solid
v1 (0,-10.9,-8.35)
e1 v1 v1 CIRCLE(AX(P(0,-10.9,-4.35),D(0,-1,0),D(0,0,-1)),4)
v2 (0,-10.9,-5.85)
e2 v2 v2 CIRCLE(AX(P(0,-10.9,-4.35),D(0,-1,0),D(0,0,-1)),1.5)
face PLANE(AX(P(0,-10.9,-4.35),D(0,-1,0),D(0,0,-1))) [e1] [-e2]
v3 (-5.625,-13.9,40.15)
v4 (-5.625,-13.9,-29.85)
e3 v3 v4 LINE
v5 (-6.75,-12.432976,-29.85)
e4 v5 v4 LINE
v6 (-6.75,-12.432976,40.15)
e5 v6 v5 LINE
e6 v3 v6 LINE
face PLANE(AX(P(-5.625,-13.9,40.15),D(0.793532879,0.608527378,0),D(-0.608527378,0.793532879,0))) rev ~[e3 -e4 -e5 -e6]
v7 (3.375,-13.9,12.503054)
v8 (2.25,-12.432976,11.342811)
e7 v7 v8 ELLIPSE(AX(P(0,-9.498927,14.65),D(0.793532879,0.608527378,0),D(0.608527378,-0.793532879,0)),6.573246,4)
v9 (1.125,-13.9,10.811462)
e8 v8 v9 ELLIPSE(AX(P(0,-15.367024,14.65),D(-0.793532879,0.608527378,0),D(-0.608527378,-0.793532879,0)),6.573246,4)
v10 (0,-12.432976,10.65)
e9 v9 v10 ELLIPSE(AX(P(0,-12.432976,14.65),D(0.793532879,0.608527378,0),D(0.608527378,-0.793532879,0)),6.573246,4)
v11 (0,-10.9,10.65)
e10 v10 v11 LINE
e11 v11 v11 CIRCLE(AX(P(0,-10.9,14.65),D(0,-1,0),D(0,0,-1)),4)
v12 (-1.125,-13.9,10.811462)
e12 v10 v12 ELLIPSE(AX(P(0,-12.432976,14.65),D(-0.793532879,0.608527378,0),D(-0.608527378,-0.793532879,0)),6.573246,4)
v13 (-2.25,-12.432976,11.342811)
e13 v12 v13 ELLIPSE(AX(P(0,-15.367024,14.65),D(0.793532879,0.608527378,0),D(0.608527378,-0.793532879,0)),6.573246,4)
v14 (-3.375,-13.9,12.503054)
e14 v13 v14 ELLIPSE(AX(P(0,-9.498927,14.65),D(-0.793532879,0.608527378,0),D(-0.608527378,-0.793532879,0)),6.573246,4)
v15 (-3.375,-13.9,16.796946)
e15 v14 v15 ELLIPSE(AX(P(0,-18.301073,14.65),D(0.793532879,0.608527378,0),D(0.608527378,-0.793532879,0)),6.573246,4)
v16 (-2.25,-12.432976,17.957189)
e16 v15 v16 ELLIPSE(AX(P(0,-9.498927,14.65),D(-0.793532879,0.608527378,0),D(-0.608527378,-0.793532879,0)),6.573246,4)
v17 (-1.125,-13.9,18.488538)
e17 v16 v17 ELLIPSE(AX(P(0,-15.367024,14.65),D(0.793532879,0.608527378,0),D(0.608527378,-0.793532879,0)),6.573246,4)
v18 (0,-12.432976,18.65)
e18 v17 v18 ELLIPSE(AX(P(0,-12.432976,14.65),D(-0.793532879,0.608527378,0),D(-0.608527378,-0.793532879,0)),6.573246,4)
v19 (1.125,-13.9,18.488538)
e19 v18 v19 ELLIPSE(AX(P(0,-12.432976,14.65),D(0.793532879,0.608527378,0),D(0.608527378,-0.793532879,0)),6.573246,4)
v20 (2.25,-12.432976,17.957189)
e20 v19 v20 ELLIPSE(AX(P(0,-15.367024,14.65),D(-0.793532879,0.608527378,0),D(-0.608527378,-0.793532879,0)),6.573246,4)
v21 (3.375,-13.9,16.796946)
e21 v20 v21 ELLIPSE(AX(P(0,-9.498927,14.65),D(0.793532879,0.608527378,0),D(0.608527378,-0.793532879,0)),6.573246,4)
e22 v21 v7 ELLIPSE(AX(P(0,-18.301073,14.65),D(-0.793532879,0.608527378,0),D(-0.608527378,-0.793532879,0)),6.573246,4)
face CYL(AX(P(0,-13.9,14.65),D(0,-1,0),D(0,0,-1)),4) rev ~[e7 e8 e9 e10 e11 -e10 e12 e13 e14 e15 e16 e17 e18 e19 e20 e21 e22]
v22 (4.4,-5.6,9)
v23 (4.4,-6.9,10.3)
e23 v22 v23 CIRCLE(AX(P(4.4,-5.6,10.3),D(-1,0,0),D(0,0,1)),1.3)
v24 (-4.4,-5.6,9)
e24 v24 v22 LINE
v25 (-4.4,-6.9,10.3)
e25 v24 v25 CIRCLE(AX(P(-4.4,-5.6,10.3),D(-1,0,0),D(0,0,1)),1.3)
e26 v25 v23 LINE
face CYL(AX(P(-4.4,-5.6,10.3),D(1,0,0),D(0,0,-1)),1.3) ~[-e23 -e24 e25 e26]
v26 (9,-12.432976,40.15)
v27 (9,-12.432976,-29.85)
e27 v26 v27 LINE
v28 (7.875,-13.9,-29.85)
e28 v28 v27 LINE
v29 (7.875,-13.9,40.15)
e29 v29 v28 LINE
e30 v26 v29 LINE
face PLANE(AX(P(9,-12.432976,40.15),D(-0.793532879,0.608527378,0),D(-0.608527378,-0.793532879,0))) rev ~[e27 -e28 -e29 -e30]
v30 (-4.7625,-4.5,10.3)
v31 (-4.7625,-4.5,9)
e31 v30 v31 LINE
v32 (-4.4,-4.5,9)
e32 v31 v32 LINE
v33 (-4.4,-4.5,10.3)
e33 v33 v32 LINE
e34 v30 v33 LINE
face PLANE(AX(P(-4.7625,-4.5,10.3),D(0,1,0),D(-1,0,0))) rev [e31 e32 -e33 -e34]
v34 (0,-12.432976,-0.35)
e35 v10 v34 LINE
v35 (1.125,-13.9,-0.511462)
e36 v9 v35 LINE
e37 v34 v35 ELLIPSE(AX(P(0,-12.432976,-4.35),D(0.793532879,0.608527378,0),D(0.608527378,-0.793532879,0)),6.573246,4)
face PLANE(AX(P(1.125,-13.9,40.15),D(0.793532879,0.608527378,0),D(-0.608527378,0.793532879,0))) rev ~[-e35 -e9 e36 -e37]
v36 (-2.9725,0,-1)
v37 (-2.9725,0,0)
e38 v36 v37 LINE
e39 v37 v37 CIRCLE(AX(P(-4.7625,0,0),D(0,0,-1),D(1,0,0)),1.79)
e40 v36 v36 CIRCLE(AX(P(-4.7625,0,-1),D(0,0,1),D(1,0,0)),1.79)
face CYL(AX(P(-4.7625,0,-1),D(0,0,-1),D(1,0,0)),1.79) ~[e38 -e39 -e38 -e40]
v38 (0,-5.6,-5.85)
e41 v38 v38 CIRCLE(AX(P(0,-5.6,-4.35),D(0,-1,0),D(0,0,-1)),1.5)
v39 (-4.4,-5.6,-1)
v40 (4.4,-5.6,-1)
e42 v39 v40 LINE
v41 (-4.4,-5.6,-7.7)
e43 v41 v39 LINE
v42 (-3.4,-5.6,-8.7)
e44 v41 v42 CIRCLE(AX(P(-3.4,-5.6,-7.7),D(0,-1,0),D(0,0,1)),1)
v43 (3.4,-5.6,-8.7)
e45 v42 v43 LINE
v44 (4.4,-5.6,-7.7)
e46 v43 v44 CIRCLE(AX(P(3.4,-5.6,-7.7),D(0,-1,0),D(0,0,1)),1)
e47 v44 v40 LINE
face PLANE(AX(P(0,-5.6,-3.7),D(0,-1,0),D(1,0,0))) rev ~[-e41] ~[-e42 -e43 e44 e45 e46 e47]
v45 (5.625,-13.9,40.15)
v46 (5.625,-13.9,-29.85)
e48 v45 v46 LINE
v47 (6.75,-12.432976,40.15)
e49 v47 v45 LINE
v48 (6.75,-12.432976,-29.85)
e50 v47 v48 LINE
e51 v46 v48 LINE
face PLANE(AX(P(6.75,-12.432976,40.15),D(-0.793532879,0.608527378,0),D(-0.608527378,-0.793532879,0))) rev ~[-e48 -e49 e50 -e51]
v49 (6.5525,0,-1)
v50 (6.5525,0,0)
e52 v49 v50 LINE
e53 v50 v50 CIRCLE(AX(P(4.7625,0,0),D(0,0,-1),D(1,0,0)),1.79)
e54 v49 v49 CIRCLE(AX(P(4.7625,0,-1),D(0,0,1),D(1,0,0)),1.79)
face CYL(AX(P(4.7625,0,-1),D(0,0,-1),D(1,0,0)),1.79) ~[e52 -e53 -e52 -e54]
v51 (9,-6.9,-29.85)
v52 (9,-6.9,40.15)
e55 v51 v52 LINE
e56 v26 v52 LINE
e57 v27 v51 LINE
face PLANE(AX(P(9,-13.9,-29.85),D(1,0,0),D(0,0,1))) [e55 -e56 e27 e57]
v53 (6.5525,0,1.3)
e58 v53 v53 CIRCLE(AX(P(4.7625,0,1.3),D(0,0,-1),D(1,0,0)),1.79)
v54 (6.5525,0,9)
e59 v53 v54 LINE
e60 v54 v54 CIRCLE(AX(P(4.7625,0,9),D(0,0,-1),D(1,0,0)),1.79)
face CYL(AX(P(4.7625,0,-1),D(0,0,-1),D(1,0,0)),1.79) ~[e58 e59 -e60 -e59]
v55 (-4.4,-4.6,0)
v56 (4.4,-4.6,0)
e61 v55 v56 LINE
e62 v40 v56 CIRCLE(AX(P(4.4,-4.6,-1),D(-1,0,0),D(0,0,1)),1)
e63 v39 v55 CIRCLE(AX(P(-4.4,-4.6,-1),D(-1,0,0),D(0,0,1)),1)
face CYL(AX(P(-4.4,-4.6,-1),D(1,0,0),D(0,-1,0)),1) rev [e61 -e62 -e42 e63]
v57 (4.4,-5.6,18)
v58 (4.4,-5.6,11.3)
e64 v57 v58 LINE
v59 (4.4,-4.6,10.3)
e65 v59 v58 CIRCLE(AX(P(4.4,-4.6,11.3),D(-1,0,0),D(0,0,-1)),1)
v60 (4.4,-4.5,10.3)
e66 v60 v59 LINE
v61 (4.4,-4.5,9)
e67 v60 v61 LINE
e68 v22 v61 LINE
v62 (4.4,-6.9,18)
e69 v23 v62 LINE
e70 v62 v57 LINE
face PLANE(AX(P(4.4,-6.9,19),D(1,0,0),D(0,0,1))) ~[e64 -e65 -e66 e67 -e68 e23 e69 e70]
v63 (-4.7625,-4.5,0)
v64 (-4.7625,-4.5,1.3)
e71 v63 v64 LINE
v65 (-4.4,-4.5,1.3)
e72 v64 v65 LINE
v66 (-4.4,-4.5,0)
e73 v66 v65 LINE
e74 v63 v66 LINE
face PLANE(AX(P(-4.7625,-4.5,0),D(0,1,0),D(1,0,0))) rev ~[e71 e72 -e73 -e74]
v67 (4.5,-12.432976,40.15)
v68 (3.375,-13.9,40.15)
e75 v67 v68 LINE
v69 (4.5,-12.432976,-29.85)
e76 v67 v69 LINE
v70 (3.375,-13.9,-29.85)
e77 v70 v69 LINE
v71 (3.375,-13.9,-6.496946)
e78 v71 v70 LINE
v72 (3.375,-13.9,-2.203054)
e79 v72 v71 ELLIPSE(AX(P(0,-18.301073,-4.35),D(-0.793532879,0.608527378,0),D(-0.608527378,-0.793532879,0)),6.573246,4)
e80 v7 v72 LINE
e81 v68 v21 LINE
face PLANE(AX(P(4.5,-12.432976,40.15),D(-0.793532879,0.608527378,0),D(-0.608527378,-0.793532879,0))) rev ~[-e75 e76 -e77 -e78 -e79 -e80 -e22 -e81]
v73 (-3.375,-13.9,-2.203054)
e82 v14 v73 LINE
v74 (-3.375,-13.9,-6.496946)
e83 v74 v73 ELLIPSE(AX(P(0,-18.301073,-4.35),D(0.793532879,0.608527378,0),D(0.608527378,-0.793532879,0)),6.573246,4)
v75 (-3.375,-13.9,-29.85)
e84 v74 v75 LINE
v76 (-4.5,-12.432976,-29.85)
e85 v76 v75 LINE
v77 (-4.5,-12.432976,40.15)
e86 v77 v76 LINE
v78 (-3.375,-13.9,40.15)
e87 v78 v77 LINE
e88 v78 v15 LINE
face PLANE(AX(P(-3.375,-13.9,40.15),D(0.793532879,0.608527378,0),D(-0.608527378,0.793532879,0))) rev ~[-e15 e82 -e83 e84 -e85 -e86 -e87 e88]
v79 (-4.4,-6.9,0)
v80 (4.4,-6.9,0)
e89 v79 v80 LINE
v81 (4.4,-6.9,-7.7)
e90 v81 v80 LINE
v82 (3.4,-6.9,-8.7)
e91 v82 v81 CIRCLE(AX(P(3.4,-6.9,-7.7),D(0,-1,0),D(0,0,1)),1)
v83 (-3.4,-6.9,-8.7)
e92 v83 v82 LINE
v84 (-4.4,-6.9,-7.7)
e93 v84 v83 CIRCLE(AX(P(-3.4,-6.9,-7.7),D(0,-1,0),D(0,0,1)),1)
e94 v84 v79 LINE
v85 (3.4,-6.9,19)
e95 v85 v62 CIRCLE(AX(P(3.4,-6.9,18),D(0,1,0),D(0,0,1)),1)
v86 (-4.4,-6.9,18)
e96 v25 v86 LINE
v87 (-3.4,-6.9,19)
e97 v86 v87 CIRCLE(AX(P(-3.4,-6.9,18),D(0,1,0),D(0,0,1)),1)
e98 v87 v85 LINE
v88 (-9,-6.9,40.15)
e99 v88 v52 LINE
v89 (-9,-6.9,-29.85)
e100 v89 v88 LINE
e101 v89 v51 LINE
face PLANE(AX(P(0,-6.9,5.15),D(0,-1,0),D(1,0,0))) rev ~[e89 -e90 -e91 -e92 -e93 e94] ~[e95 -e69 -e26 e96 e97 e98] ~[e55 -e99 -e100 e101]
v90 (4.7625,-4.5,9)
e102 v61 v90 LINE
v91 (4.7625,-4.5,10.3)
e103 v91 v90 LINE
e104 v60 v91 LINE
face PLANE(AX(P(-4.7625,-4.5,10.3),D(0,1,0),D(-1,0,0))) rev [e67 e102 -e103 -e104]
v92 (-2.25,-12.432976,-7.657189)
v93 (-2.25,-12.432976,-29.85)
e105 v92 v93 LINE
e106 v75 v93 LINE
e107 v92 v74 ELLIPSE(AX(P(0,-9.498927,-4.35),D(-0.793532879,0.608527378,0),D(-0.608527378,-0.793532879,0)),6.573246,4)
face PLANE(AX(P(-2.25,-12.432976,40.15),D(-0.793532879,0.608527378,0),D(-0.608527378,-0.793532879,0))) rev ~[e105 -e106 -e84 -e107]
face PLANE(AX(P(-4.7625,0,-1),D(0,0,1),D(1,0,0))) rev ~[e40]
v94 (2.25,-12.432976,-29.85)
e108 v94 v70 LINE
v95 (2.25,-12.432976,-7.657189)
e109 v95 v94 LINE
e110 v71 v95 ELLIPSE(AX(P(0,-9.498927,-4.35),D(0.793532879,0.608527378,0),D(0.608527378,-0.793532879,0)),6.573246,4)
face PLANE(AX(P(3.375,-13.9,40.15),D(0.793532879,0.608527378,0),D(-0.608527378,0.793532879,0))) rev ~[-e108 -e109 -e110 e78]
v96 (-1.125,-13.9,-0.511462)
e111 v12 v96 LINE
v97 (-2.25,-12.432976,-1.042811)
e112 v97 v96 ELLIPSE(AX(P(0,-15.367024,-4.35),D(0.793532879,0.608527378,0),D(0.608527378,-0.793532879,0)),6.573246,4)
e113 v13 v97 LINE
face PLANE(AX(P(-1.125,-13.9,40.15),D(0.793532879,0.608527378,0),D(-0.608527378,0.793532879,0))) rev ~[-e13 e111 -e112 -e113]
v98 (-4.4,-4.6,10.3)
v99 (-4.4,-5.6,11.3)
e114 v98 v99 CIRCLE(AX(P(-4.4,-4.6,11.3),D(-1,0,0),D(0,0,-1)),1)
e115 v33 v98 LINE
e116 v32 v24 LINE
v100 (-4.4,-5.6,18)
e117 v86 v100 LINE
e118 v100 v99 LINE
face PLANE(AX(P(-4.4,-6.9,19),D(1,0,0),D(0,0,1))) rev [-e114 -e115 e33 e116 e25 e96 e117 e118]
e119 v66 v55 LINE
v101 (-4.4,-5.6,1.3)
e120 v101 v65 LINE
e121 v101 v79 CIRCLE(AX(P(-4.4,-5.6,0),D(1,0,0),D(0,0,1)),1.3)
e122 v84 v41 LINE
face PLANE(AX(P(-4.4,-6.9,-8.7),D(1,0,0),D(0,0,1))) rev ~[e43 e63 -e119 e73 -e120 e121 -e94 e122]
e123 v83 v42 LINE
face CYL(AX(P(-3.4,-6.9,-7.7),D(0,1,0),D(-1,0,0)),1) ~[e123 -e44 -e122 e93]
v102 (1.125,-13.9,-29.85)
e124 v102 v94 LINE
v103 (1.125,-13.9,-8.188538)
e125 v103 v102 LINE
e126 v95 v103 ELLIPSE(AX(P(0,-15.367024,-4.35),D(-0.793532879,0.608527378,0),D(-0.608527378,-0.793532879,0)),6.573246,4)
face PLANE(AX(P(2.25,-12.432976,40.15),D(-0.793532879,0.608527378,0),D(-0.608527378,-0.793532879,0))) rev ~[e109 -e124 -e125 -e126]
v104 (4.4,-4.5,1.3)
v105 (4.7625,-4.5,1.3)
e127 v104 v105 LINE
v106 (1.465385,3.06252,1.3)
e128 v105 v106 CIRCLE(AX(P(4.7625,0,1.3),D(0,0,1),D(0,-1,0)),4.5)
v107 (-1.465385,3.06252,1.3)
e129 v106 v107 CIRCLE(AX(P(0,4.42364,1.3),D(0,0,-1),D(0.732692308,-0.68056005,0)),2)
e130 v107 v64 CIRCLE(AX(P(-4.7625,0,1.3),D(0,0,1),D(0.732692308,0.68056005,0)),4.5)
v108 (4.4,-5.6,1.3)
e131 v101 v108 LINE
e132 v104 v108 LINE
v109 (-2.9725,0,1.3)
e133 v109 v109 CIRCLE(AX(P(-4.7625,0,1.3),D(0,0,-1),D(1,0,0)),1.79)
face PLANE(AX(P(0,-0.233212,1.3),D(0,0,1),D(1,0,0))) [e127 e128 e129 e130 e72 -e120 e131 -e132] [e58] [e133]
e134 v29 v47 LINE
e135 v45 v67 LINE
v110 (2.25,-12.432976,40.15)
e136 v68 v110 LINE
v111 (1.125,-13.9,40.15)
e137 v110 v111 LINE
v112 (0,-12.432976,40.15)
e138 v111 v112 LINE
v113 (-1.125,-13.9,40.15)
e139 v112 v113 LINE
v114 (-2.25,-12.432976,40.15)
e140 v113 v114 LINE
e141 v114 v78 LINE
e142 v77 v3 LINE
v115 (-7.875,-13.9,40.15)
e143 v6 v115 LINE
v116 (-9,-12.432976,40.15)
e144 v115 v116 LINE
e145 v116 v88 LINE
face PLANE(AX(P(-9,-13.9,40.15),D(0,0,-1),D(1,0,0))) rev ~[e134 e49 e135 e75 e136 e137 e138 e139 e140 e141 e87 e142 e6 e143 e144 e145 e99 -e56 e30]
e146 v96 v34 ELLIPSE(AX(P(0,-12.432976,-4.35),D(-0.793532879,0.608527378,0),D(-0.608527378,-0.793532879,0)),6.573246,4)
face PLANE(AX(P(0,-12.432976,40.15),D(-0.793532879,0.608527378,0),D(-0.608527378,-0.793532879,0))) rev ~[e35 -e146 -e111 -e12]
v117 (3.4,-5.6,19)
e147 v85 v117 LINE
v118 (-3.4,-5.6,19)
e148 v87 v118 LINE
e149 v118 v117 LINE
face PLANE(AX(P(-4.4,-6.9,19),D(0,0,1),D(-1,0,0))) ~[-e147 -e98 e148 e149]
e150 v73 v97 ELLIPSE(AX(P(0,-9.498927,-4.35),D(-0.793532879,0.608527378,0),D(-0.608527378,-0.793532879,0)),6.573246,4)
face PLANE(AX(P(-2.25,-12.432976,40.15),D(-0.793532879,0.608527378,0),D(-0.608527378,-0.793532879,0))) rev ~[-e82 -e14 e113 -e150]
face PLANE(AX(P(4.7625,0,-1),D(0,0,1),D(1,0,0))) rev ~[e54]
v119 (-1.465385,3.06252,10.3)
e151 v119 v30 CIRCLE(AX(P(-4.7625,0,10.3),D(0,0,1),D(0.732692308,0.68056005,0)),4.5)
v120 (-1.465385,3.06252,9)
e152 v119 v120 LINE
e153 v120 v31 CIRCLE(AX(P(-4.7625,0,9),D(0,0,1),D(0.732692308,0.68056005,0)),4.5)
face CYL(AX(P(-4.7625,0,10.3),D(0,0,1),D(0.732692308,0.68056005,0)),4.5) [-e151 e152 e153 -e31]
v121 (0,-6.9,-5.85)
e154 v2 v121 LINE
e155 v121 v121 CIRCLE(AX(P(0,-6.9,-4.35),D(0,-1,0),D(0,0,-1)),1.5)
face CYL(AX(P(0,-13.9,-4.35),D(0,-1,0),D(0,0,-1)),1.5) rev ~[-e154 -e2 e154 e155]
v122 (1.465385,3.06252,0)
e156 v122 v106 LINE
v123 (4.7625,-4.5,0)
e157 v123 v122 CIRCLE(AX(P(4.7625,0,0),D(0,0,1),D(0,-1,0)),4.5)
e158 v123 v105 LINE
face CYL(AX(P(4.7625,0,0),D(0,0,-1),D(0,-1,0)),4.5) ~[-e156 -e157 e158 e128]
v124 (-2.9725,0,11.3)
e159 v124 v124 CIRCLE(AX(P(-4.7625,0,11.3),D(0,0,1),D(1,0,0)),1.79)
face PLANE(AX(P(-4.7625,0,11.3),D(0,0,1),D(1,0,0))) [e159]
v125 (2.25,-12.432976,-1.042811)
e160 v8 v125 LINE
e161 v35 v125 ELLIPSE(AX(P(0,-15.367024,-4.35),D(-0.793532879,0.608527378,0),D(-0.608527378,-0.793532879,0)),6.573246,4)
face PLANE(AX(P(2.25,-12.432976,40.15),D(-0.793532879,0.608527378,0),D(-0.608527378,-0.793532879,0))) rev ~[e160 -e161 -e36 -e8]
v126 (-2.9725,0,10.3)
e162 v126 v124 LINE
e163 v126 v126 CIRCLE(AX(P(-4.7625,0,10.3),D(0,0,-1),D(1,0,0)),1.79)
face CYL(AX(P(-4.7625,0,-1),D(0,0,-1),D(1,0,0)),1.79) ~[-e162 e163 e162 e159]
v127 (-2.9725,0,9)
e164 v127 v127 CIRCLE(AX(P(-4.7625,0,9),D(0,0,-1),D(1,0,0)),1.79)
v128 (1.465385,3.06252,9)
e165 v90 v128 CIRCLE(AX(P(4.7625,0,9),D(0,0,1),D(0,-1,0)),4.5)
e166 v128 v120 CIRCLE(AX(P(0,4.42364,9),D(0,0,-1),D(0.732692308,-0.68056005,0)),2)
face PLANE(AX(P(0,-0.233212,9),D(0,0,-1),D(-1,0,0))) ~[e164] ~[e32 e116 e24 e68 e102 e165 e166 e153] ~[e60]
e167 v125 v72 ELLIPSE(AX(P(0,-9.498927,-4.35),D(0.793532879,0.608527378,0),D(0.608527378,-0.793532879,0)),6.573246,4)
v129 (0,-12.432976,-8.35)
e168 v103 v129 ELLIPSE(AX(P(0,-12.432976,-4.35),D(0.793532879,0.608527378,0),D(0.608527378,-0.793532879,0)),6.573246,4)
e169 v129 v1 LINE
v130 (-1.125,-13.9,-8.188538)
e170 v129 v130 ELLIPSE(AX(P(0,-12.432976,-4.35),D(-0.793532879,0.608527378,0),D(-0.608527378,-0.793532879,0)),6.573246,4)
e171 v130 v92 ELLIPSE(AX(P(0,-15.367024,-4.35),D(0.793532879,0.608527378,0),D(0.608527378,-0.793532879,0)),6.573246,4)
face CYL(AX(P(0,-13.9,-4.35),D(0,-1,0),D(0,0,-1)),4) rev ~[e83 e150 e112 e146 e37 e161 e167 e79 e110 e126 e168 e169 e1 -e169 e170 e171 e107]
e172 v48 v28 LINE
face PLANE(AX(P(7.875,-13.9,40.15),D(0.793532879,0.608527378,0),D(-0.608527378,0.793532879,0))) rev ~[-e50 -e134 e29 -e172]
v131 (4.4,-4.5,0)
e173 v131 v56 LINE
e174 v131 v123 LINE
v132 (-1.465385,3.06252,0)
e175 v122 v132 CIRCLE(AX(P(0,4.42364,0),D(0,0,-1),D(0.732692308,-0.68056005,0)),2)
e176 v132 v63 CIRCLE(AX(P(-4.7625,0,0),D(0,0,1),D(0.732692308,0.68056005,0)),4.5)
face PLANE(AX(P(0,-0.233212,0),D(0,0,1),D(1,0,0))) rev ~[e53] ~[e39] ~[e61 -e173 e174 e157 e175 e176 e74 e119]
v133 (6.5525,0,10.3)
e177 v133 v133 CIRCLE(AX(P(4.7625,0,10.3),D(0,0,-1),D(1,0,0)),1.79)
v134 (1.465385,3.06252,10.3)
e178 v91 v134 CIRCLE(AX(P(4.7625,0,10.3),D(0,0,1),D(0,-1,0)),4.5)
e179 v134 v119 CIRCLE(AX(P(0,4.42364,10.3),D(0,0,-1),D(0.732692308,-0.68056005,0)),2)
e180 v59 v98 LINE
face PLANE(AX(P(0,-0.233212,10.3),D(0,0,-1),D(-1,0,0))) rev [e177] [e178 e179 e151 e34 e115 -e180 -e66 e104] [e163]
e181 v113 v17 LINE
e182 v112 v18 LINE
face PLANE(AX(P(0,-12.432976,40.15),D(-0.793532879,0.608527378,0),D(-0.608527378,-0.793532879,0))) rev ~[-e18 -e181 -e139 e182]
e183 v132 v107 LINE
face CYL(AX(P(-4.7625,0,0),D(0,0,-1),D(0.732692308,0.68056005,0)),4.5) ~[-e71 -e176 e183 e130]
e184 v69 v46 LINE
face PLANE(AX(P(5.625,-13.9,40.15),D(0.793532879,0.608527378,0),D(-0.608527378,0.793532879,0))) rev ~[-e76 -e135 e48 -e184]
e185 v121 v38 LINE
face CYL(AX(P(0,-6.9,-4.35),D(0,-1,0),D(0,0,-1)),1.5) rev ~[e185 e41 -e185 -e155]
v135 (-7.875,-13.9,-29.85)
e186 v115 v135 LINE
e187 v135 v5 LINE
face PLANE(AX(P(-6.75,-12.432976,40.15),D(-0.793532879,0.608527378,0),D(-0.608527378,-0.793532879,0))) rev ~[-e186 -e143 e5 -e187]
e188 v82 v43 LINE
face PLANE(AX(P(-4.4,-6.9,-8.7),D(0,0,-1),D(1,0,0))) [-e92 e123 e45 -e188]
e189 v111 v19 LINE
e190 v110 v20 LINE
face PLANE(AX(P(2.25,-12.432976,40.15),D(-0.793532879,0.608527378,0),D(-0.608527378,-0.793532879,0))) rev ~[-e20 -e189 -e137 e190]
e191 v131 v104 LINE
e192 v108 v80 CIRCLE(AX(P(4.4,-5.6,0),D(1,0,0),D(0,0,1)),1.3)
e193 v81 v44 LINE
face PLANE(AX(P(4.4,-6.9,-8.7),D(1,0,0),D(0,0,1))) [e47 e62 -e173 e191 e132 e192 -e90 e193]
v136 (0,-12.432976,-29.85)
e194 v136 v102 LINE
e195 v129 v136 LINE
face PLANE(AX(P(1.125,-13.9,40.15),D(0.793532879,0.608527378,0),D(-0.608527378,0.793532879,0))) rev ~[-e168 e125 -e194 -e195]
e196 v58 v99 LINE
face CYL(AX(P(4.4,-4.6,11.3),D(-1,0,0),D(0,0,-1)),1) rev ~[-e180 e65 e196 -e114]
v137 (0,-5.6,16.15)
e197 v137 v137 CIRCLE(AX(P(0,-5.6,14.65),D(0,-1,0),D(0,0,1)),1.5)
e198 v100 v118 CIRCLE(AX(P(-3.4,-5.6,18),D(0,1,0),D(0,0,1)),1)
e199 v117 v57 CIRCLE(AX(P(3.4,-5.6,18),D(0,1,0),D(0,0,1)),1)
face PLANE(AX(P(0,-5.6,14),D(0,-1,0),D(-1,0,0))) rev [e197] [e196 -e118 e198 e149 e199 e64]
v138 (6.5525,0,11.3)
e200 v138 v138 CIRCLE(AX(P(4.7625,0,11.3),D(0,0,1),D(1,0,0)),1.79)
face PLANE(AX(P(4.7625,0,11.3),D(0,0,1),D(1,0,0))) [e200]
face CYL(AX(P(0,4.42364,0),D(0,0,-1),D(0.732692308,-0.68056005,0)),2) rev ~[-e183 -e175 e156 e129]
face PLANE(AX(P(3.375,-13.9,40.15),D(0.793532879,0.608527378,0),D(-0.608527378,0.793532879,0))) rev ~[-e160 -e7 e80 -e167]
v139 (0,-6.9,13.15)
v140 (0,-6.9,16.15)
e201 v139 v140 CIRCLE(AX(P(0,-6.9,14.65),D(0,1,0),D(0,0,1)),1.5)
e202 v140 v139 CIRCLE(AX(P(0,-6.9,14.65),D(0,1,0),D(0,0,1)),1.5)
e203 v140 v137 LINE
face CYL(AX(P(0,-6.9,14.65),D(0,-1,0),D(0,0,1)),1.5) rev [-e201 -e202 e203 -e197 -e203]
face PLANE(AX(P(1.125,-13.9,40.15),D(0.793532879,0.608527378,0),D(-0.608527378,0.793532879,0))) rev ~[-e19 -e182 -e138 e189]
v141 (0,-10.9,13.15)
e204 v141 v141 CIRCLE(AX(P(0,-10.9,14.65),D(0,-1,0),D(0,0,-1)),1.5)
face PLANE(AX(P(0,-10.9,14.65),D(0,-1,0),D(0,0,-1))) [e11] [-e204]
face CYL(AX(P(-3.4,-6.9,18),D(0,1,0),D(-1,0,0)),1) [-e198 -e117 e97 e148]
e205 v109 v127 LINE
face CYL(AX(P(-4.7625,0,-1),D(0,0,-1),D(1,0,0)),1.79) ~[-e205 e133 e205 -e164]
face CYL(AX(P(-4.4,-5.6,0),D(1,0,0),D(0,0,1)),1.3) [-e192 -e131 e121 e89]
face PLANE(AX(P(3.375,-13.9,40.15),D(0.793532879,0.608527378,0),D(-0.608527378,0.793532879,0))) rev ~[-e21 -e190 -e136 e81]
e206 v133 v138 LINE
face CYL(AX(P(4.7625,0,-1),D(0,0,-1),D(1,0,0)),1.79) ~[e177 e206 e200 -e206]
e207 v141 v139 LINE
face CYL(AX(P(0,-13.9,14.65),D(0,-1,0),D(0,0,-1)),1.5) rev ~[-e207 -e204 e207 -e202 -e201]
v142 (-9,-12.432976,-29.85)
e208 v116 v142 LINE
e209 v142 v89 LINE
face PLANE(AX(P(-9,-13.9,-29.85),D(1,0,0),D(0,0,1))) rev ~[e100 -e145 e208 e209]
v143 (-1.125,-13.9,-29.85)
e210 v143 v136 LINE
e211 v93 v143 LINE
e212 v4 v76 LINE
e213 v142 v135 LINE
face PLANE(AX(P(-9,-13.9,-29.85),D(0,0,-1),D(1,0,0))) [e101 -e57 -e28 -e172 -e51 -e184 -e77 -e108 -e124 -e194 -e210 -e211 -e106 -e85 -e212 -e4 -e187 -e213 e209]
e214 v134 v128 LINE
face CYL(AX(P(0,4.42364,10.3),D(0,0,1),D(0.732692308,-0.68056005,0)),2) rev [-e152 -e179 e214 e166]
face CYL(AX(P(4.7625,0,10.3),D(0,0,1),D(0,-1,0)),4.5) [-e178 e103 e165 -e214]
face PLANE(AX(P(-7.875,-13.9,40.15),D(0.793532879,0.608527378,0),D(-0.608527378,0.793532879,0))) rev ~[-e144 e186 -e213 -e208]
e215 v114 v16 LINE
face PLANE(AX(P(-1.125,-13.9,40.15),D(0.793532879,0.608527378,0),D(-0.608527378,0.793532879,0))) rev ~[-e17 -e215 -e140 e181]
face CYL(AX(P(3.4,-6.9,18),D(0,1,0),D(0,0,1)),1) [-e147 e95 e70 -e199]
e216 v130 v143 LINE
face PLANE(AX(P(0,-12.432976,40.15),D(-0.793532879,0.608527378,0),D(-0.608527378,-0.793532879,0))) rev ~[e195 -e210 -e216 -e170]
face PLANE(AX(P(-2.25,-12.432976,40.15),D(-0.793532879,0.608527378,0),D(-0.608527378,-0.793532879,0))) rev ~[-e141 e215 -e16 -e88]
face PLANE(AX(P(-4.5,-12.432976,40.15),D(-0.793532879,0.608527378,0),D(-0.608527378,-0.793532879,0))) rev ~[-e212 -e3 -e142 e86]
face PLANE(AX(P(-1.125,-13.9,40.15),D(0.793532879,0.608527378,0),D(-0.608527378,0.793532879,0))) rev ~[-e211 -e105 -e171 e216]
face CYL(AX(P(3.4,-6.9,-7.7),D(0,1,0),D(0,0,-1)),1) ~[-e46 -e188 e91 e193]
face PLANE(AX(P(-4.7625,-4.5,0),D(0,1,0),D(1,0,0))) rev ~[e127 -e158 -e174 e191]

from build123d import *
from build123d.topology import SkipClean

# Parameters (mm, degrees)
BOSS_EXTRUDE1_DEPTH      = 1.3
BOSS_EXTRUDE2_DEPTH      = 10
BOSS_EXTRUDE2_DEPTH_BACK = 2.3
SKETCH2_R                = 1.79
SKETCH4_W                = 8.8
SKETCH4_H                = 1.3
BOSS_EXTRUDE4_DEPTH      = 2.4
SKETCH3_W                = 8.8
SKETCH3_H                = 10
BOSS_EXTRUDE3_DEPTH      = 1.3
FILLET4_R                = 1.3
FILLET6_R                = 1
SKETCH5_R                = 1.5
CUT_EXTRUDE1_DEPTH       = 2.4
FILLET7_R                = 1
FILLET4_OF_MIRROR1_R     = 1.3
FILLET6_OF_MIRROR1_R     = 1
FILLET7_OF_MIRROR1_R     = 1
BOSS_EXTRUDE5_START      = 7
SKETCH6_W                = 18
SKETCH6_H                = 70
SKETCH6_R                = 1.5
BOSS_EXTRUDE5_DEPTH      = 7
SKETCH9_R                = 4
CUT_EXTRUDE3_DEPTH       = 3
CUT_EXTRUDE4_DEPTH       = 72.965296541


with BuildPart() as part:
    # Sketch1 → Boss-Extrude1 (new body)
    with BuildSketch(Plane.XY):
        with BuildLine():
            Line((-4.7625, -4.5), (4.7625, -4.5))
            ThreePointArc((4.7625, -4.5), (8.887505516, 1.798424168), (1.465384615, 3.062520227))
            ThreePointArc((1.465384615, 3.062520227), (0, 2.423640328), (-1.465384615, 3.062520227))
            ThreePointArc((-1.465384615, 3.062520227), (-8.887505516, 1.798424168), (-4.7625, -4.5))
        make_face()
    boss_extrude1 = extrude(amount=BOSS_EXTRUDE1_DEPTH)

    # Sketch2 → Boss-Extrude2 (add, two sides: drawn at the far end of the back side and taken through both)
    with BuildSketch(Plane.XY.offset(1.3).offset(-BOSS_EXTRUDE2_DEPTH_BACK)):
        with Locations((-4.7625, 0)):
            Circle(SKETCH2_R)
        with Locations((4.7625, 0)):
            Circle(SKETCH2_R)
    extrude(amount=BOSS_EXTRUDE2_DEPTH + BOSS_EXTRUDE2_DEPTH_BACK)

    # Sketch4 → Boss-Extrude4 (add)
    with BuildSketch(Plane.XZ.offset(4.5)):
        with Locations((0, 0.65)):
            Rectangle(SKETCH4_W, SKETCH4_H)
    boss_extrude4 = extrude(amount=BOSS_EXTRUDE4_DEPTH)

    # Sketch3 → Boss-Extrude3 (add)
    with BuildSketch(Plane.XZ.offset(6.9)):
        with Locations((0, -3.7)):
            Rectangle(SKETCH3_W, SKETCH3_H)
    boss_extrude3 = extrude(amount=-BOSS_EXTRUDE3_DEPTH)

    # Fillet4
    fillet4_edges = [part.edges().sort_by_distance(p)[0] for p in [
        (0, -6.9, 1.3),
    ]]
    fillet(fillet4_edges, radius=FILLET4_R)

    # Fillet6
    fillet6_edges = [part.edges().sort_by_distance(p)[0] for p in [
        (0, -5.6, 0),
    ]]
    fillet(fillet6_edges, radius=FILLET6_R)

    # Sketch5 → Cut-Extrude1 (cut)
    with BuildSketch(Plane.XZ.offset(6.9)):
        with Locations(Location((0, -4.35, 0), (0, 0, 270))):
            Circle(SKETCH5_R)
    cut_extrude1 = extrude(amount=-CUT_EXTRUDE1_DEPTH, mode=Mode.SUBTRACT)

    # Fillet7
    fillet7_edges = [part.edges().sort_by_distance(p)[0] for p in [
        (-4.4, -6.25, -8.7),
        (4.4, -6.25, -8.7),
    ]]
    fillet(fillet7_edges, radius=FILLET7_R)

    # Mirror1: Boss-Extrude1, Boss-Extrude4, Boss-Extrude3, Cut-Extrude1 across plane
    add(boss_extrude1.mirror(Plane(origin=(0, 0, 5.15), x_dir=(1, 0, 0), z_dir=(0, 0, -1))))
    add(boss_extrude4.mirror(Plane(origin=(0, 0, 5.15), x_dir=(1, 0, 0), z_dir=(0, 0, -1))))
    add(boss_extrude3.mirror(Plane(origin=(0, 0, 5.15), x_dir=(1, 0, 0), z_dir=(0, 0, -1))))
    add(cut_extrude1.mirror(Plane(origin=(0, 0, 5.15), x_dir=(1, 0, 0), z_dir=(0, 0, -1))), mode=Mode.SUBTRACT)

    # Fillet4 of Mirror1
    fillet4_of_mirror1_edges = [part.edges().sort_by_distance(p)[0] for p in [
        (0, -6.9, 9),
    ]]
    fillet(fillet4_of_mirror1_edges, radius=FILLET4_OF_MIRROR1_R)

    # Fillet6 of Mirror1
    fillet6_of_mirror1_edges = [part.edges().sort_by_distance(p)[0] for p in [
        (0, -5.6, 10.3),
    ]]
    fillet(fillet6_of_mirror1_edges, radius=FILLET6_OF_MIRROR1_R)

    # Fillet7 of Mirror1
    fillet7_of_mirror1_edges = [part.edges().sort_by_distance(p)[0] for p in [
        (-4.4, -6.25, 19),
        (4.4, -6.25, 19),
    ]]
    fillet(fillet7_of_mirror1_edges, radius=FILLET7_OF_MIRROR1_R)

    # Sketch6 → Boss-Extrude5 (add)
    with SkipClean():  # the faces are left unmerged after this step: merging them gives an invalid solid
        with BuildSketch(Plane.XZ.offset(6.9).offset(BOSS_EXTRUDE5_START)):
            with Locations((0, 5.15)):
                Rectangle(SKETCH6_W, SKETCH6_H)
            with Locations(Location((0, 14.65, 0), (0, 0, 270))):
                Circle(SKETCH6_R, mode=Mode.SUBTRACT)
            with Locations(Location((0, -4.35, 0), (0, 0, 270))):
                Circle(SKETCH6_R, mode=Mode.SUBTRACT)
        extrude(amount=-BOSS_EXTRUDE5_DEPTH)

    # Sketch9 → Cut-Extrude3 (cut)
    with SkipClean():  # the faces are left unmerged after this step: merging them gives an invalid solid
        with BuildSketch(Plane.XZ.offset(13.9)):
            with Locations(Location((0, 14.65, 0), (0, 0, 270))):
                Circle(SKETCH9_R)
            with Locations(Location((0, -4.35, 0), (0, 0, 270))):
                Circle(SKETCH9_R)
        extrude(amount=-CUT_EXTRUDE3_DEPTH, mode=Mode.SUBTRACT)

    # Sketch11 → Cut-Extrude4 (cut, through all)
    with SkipClean():  # the faces are left unmerged after this step: merging them gives an invalid solid
        with BuildSketch(Plane.XY.offset(40.15)):
            Polygon((9, -12.432975638), (7.875, -13.9), (6.75, -12.432975638), (5.625, -13.9), (4.5, -12.432975638), (3.375, -13.9), (2.25, -12.432975638), (1.125, -13.9), (0, -12.432975638), (-1.125, -13.9), (-2.25, -12.432975638), (-3.375, -13.9), (-4.5, -12.432975638), (-5.625, -13.9), (-6.75, -12.432975638), (-7.875, -13.9), (-9, -12.432975638), (-9, -14.9), (9, -14.9), align=None)
        extrude(amount=-CUT_EXTRUDE4_DEPTH, mode=Mode.SUBTRACT)


solid = part.part
